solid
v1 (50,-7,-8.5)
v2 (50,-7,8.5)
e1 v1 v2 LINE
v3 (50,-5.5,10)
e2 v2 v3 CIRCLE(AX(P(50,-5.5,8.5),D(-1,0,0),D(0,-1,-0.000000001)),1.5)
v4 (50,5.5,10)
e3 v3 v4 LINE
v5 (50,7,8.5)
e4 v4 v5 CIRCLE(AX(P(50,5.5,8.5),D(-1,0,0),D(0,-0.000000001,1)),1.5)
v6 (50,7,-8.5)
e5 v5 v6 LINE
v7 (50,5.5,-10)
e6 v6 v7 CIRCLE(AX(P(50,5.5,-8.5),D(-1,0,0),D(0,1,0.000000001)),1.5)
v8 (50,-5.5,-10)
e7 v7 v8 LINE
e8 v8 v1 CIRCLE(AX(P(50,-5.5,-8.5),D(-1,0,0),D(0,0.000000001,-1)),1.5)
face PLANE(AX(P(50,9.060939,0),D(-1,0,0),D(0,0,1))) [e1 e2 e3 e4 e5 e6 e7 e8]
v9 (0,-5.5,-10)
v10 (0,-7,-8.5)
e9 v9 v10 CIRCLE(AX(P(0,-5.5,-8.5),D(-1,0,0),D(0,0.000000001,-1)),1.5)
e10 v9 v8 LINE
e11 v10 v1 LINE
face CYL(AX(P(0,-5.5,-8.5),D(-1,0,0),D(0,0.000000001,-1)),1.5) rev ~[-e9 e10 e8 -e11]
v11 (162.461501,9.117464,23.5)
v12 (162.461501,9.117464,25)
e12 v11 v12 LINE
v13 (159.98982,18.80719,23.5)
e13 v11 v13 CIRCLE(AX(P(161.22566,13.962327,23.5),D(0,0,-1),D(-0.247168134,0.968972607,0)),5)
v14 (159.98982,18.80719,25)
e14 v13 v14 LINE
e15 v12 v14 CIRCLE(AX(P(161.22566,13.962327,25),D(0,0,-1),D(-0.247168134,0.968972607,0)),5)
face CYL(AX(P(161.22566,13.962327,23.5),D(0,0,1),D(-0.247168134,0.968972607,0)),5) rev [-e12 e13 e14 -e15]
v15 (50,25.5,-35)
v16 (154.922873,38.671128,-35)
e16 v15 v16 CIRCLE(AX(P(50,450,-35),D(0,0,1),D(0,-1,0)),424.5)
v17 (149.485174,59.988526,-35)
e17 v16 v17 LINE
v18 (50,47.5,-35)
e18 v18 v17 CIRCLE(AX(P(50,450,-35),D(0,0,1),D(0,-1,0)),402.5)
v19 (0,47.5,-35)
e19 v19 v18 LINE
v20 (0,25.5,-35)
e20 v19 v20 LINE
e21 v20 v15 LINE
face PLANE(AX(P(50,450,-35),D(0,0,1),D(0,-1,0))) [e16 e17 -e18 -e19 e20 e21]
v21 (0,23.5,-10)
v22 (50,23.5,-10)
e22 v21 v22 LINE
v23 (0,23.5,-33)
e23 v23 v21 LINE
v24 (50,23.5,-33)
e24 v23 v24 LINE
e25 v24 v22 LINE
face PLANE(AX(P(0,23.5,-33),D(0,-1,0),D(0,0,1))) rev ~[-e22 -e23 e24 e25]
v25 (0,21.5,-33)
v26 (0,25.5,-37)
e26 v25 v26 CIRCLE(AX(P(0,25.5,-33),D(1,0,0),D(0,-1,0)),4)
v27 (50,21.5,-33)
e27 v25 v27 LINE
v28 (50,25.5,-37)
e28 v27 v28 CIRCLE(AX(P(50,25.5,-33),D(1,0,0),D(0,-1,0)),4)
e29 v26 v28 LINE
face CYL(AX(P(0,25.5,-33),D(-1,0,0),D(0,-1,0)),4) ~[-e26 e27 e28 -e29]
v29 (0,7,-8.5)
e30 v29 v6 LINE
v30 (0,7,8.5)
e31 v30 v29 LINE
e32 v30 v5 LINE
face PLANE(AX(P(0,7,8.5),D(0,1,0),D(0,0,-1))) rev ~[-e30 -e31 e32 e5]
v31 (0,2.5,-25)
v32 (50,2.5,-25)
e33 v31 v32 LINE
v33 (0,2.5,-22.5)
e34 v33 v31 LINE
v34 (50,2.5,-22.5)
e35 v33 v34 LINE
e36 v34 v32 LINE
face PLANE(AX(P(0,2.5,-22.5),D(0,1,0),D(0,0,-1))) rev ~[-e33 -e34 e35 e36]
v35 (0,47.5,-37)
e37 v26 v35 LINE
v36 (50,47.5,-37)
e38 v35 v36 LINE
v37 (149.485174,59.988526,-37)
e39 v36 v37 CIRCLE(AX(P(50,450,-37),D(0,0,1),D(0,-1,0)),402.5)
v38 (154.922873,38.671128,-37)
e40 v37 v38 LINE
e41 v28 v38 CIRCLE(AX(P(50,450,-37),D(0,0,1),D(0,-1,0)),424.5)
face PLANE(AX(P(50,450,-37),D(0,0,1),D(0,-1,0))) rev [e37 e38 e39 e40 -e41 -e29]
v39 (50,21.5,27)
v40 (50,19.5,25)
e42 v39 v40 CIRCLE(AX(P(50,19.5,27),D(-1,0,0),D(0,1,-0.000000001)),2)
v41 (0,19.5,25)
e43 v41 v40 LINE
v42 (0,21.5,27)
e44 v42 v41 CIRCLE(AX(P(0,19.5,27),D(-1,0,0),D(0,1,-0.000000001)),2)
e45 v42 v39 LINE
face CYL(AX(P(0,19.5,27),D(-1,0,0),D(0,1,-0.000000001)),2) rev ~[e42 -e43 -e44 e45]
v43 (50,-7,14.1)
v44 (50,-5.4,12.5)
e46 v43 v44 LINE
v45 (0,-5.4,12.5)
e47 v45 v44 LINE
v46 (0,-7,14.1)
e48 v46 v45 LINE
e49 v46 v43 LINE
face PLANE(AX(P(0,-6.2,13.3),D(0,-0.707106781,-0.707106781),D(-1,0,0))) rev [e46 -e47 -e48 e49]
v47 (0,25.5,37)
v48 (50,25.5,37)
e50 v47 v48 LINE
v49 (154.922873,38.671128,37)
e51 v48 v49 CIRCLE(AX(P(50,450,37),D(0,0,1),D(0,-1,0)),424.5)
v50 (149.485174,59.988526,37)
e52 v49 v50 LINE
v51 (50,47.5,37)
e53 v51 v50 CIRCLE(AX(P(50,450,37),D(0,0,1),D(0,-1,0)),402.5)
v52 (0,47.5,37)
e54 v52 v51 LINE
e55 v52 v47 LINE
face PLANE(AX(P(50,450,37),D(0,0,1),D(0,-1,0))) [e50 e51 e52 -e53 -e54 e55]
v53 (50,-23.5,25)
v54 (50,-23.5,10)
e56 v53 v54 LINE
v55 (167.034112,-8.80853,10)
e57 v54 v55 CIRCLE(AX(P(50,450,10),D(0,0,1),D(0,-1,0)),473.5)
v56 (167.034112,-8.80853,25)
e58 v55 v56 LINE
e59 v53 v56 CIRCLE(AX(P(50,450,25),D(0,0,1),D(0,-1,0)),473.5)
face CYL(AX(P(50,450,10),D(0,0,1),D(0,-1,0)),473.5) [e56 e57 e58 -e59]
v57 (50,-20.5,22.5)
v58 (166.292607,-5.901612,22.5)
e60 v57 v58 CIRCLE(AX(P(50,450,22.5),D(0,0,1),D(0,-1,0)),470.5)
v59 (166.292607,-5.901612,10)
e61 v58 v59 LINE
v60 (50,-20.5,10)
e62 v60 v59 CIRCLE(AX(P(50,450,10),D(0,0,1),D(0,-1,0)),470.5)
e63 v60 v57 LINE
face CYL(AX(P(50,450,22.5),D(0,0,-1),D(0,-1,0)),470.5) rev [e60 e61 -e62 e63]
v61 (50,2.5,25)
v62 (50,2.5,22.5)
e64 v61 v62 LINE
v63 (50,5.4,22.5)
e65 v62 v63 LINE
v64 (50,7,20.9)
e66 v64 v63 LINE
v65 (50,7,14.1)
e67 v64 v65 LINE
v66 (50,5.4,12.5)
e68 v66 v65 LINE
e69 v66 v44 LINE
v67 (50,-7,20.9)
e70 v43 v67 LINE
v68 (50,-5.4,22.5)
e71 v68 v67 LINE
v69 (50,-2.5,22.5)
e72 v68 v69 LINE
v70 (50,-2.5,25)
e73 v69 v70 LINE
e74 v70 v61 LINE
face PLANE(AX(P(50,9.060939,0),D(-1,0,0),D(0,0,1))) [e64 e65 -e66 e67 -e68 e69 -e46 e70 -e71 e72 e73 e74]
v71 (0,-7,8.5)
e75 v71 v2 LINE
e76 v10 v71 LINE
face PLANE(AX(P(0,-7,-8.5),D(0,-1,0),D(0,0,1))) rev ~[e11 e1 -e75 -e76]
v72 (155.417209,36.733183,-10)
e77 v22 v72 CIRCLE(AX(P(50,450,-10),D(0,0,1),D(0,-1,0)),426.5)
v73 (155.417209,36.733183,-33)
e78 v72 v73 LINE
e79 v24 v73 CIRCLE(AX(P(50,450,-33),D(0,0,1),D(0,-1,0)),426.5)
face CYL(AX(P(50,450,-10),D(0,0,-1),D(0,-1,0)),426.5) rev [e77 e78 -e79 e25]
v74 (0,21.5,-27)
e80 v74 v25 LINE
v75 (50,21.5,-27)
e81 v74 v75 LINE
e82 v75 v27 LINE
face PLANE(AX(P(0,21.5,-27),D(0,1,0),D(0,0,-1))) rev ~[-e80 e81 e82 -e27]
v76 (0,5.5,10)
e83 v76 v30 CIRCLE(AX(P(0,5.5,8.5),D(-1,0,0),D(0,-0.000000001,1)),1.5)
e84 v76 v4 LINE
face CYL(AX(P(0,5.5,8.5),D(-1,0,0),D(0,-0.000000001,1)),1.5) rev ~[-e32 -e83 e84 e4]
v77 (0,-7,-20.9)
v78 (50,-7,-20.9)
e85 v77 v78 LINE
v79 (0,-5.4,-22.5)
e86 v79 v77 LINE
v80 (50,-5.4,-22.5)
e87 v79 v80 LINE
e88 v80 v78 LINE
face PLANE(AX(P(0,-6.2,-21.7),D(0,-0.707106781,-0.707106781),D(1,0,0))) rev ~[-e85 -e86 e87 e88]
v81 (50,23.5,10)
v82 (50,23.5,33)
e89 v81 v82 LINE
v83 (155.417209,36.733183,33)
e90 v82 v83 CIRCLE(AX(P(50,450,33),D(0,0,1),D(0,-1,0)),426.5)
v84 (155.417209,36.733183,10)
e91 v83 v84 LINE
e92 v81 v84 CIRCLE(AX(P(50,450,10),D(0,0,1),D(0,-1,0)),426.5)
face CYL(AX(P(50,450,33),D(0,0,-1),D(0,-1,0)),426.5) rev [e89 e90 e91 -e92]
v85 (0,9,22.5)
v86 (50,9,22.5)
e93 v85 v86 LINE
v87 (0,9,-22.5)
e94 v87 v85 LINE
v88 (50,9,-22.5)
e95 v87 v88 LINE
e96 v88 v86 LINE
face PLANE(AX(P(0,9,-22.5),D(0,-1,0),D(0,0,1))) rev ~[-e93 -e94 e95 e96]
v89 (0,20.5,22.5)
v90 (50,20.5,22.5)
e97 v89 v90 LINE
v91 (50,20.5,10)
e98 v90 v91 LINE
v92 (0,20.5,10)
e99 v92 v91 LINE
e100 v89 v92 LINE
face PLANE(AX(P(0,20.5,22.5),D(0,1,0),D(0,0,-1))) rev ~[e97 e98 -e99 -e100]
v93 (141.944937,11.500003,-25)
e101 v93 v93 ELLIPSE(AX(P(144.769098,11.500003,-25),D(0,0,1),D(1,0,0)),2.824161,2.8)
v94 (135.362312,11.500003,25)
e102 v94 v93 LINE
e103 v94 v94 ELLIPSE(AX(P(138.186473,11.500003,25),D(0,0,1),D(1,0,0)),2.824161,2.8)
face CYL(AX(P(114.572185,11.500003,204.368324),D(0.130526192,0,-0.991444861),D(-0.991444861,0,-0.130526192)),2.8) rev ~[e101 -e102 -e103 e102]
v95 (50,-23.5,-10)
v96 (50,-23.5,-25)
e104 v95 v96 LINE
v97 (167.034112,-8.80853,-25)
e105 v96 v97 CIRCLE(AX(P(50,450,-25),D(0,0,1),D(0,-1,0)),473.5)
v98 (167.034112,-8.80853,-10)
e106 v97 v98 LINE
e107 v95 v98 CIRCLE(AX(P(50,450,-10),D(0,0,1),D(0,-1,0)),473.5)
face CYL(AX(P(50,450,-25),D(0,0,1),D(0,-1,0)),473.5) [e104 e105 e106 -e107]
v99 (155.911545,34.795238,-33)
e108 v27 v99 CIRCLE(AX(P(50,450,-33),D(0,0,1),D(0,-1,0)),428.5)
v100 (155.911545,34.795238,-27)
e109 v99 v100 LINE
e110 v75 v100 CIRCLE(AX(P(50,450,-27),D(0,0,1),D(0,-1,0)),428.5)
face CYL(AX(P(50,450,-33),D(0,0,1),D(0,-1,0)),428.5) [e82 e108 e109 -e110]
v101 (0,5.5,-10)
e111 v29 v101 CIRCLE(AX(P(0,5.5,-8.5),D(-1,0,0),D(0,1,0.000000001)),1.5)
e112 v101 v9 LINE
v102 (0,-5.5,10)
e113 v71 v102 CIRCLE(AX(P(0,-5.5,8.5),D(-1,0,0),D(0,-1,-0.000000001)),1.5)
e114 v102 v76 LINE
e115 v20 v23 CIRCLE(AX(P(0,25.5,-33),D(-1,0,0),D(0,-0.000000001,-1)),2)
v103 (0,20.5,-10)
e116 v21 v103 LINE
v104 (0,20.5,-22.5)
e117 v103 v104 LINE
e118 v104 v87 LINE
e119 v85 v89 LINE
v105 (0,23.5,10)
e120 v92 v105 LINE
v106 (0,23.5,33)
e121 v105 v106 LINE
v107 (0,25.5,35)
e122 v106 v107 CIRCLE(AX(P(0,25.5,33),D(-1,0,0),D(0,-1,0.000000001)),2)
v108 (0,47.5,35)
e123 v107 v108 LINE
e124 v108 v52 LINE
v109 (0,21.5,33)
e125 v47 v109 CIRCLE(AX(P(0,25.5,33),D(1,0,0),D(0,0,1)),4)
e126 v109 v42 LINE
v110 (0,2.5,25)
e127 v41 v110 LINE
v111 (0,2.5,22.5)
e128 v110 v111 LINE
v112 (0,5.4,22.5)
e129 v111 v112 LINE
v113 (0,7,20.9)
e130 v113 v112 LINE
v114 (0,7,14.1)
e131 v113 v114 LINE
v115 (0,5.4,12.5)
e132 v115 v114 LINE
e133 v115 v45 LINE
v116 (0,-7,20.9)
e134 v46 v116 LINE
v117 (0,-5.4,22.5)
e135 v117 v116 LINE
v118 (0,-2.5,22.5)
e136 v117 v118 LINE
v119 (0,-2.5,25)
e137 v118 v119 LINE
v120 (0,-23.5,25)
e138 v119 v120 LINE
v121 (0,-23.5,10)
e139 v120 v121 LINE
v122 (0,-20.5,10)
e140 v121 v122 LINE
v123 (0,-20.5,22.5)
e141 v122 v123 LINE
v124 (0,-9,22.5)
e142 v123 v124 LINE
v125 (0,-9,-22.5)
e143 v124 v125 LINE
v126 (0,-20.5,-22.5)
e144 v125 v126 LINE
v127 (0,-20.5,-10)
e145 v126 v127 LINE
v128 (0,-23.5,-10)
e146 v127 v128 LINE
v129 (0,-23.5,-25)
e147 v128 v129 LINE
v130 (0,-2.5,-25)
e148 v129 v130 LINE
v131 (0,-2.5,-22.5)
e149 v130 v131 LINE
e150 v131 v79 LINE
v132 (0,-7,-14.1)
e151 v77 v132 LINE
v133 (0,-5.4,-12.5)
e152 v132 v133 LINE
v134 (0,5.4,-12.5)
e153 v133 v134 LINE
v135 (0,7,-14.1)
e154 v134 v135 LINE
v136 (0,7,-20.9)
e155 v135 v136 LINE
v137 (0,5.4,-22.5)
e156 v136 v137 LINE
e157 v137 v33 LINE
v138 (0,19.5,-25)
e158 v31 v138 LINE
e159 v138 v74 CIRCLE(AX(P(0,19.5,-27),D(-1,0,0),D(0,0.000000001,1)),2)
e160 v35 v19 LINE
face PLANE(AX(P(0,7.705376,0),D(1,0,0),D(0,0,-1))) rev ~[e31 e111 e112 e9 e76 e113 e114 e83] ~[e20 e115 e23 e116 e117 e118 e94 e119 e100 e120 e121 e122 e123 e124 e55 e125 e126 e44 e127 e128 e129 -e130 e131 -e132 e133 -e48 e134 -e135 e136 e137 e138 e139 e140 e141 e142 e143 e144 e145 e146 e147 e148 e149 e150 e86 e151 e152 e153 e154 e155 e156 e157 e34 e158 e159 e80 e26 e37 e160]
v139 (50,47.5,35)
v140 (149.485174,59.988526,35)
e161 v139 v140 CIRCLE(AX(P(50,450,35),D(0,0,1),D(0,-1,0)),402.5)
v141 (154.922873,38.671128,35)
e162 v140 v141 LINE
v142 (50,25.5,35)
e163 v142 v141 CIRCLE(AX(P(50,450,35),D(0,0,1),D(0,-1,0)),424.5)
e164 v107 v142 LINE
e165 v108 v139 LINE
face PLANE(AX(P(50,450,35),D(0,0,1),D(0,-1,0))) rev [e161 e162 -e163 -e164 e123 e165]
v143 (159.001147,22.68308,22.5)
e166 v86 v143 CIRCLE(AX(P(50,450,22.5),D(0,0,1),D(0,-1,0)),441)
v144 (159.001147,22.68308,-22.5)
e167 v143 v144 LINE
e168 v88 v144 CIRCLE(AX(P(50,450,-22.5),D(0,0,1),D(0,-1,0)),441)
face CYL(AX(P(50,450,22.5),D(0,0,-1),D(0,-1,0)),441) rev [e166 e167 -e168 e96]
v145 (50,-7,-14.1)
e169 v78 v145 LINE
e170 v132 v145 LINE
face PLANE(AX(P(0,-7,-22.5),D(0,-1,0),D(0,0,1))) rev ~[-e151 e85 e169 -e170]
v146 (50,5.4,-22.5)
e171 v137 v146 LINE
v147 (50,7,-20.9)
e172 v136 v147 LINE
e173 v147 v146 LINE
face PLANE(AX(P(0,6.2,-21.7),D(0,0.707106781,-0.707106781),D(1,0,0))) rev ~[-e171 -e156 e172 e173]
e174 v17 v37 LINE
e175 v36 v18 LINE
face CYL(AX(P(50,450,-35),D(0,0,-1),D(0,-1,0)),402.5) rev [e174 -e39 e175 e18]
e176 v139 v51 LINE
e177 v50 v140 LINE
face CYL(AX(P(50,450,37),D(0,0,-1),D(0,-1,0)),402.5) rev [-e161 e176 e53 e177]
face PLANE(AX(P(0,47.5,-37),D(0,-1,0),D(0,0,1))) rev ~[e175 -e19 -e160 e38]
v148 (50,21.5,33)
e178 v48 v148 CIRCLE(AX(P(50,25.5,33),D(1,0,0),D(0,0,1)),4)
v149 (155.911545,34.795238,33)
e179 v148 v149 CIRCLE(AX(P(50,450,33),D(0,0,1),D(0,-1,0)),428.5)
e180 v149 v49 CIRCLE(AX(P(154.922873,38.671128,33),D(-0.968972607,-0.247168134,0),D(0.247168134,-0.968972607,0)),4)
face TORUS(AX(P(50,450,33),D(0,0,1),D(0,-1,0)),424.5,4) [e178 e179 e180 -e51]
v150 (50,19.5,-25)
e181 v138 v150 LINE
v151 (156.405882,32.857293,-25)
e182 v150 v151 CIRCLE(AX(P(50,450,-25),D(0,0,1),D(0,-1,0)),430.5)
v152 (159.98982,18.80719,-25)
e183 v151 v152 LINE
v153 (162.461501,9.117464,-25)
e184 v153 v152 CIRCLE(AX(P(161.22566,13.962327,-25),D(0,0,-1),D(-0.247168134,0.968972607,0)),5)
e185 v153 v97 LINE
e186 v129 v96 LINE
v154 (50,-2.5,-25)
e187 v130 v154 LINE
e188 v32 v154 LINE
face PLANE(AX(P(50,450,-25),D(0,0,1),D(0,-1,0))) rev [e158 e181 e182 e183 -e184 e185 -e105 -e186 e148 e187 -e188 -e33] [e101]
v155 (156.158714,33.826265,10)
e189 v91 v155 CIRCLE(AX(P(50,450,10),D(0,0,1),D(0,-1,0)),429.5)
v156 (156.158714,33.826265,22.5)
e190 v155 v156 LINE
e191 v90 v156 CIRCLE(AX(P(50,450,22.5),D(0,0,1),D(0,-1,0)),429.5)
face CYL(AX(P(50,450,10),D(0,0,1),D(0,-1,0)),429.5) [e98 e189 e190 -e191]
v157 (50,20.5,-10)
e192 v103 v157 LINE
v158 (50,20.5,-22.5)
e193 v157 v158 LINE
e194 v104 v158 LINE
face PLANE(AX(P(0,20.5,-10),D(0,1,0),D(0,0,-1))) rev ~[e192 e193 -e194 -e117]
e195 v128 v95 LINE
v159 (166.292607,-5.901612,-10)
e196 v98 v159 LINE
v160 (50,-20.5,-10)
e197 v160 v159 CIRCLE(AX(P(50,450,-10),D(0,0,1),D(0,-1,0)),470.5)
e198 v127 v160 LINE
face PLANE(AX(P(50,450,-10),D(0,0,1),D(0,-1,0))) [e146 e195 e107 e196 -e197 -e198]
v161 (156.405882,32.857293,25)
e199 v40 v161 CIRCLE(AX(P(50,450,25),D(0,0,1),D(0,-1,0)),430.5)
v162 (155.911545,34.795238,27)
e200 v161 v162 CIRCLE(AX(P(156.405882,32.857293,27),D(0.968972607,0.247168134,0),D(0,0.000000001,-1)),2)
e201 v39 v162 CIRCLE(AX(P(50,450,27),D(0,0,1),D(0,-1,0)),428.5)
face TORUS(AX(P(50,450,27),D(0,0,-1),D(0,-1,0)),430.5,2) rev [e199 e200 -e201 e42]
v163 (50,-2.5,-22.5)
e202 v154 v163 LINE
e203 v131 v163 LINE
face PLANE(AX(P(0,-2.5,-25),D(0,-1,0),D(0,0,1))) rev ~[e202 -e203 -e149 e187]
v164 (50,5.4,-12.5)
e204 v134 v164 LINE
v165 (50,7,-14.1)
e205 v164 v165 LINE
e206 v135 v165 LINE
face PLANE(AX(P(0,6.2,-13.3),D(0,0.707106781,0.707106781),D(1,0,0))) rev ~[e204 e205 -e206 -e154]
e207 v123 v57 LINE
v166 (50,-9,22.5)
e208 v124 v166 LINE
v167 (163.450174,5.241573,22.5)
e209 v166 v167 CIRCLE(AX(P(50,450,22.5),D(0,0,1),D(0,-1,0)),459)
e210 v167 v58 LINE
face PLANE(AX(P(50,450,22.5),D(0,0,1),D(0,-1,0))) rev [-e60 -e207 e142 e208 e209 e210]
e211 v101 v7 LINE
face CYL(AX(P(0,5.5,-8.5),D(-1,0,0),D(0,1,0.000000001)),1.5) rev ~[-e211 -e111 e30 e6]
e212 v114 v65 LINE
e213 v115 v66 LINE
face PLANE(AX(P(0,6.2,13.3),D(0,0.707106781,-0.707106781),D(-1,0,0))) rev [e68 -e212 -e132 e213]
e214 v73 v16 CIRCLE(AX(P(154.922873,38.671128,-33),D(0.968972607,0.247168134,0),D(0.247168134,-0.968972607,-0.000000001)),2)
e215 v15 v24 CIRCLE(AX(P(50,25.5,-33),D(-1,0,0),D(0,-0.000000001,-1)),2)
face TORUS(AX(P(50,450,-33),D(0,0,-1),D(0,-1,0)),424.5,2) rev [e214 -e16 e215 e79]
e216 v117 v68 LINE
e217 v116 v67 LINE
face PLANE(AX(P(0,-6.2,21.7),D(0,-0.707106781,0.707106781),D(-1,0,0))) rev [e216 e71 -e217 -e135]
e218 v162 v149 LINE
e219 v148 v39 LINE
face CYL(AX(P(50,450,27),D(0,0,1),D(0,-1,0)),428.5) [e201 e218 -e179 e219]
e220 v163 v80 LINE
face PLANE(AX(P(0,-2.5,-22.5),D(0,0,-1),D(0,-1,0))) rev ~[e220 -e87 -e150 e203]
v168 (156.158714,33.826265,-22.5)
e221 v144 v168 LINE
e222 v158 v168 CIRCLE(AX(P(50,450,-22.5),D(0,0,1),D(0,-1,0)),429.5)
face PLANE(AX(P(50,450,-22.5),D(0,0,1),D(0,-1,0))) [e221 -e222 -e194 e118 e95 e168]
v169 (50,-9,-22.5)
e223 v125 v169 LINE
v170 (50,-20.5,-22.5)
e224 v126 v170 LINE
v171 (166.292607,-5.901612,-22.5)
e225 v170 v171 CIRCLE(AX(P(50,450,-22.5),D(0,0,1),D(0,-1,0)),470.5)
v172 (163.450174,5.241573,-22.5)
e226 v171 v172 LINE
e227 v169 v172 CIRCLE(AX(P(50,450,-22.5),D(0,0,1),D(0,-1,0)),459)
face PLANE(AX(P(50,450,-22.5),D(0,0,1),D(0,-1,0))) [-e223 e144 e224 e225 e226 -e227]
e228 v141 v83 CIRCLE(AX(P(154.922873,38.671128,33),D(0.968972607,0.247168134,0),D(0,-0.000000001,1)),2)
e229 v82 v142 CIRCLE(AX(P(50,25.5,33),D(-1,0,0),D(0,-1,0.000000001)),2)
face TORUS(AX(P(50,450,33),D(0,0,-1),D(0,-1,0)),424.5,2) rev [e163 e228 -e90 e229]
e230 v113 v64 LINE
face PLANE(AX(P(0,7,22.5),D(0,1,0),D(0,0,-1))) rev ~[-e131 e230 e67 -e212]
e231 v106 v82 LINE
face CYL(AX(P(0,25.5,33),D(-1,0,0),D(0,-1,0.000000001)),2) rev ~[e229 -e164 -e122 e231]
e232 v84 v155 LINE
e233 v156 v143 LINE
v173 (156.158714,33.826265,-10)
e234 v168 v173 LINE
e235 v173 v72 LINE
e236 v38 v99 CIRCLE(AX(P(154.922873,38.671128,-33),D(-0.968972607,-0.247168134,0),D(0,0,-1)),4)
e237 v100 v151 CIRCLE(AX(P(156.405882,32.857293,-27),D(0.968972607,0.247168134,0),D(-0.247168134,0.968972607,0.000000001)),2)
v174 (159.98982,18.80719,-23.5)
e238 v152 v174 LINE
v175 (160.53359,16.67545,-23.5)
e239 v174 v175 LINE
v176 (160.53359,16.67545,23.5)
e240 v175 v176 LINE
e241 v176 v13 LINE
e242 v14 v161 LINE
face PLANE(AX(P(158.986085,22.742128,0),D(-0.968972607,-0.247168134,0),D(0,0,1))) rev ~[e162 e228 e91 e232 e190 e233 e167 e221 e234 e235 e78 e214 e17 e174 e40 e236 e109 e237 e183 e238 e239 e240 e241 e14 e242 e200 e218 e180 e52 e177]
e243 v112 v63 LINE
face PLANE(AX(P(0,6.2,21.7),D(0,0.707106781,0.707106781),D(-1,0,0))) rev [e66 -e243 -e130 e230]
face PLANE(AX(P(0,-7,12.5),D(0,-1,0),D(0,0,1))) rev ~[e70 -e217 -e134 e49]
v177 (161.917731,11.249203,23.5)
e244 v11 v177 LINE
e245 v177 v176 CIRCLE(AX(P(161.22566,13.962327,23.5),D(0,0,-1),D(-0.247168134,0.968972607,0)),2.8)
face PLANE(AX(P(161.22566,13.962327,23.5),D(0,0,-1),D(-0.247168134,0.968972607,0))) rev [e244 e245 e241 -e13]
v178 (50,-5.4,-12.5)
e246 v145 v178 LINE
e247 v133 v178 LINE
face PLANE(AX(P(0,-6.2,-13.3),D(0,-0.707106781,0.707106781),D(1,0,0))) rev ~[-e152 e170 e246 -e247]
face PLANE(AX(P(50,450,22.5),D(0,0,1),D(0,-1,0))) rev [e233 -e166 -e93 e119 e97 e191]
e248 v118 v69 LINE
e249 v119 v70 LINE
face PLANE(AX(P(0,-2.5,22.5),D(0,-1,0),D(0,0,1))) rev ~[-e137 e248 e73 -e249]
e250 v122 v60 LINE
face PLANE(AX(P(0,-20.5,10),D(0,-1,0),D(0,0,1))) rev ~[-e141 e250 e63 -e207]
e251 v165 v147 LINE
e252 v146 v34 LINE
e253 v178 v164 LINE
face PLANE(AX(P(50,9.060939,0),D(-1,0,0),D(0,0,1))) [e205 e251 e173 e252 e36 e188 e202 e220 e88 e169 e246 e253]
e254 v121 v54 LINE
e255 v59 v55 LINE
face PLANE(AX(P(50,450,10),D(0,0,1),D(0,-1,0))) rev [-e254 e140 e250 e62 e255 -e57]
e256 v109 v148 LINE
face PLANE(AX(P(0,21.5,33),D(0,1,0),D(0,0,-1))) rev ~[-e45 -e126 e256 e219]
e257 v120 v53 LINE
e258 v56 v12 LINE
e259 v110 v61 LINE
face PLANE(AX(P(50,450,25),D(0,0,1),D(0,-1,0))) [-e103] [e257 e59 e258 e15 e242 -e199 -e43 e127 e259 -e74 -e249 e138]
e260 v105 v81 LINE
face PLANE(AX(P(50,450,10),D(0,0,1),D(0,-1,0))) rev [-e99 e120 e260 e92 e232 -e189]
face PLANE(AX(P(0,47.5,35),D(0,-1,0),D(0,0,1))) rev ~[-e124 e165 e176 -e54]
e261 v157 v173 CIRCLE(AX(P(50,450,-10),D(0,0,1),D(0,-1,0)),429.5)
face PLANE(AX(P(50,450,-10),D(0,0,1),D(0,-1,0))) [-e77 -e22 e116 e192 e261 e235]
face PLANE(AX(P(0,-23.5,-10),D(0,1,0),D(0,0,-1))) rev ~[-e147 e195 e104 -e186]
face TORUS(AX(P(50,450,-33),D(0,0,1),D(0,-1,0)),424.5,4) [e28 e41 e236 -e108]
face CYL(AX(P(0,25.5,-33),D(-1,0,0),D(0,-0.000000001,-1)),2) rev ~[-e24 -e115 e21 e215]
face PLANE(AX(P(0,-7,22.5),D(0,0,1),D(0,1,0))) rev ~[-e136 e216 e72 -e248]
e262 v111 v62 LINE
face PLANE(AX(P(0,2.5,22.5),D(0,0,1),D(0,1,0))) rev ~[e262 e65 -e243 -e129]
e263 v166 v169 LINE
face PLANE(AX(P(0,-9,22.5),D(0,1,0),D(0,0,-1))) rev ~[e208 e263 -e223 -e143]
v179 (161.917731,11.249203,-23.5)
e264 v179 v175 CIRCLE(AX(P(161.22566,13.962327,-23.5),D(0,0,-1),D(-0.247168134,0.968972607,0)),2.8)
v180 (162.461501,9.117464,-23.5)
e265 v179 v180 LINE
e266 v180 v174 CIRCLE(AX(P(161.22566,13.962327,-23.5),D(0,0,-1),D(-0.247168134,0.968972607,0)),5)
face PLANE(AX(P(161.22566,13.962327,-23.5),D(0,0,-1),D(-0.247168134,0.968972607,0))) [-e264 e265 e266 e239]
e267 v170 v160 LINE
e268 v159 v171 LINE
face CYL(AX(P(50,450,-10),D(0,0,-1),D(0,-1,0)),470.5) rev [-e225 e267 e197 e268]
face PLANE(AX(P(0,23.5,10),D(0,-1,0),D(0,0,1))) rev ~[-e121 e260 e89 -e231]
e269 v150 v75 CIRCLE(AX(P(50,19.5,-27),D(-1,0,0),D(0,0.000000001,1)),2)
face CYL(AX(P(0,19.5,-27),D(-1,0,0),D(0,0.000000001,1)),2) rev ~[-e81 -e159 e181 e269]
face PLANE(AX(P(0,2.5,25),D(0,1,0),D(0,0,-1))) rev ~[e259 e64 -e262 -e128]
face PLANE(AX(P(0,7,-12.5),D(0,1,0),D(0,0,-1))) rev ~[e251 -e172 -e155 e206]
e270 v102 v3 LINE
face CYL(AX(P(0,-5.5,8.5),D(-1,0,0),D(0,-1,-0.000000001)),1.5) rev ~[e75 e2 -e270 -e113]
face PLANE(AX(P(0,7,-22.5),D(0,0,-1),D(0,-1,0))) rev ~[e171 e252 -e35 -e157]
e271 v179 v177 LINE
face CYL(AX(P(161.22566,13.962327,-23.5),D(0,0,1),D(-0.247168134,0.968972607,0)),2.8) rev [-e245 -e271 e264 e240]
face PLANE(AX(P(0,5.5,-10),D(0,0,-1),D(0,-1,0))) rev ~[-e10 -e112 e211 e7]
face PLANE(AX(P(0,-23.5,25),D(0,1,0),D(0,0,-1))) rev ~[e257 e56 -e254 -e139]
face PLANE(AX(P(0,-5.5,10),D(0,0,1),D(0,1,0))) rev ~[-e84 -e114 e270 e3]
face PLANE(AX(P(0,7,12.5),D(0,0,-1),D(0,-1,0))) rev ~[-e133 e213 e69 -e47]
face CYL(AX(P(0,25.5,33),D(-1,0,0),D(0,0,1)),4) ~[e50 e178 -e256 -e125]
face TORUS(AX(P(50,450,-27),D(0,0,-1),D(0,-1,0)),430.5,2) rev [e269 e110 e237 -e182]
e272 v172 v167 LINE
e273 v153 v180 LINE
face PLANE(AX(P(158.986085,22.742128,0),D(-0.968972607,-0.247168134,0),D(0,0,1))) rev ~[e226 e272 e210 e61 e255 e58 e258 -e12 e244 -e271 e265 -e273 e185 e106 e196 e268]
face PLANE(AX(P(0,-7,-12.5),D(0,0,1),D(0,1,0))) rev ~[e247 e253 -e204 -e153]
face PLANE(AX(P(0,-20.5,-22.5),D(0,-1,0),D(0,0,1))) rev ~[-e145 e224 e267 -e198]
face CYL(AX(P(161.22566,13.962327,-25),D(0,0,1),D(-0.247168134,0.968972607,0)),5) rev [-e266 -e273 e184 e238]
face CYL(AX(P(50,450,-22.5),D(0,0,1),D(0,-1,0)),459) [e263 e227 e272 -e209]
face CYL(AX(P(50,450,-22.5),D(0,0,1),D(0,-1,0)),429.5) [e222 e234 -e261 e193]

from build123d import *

# Parameters (mm, degrees)
ESTRUSIONE_ESTRUSIONE1_DEPTH = 50
SMUSSO1_SIZE                 = 1.6
RIVOLUZIONE1_ANGLE           = 14.31
FORO_PER_VITE_M5_2_D         = 5.6
FORO_PER_VITE_M5_2_DEPTH     = 120
FORO_PER_VITE_M5_2_TIP       = 1.682409733


with BuildPart() as part:
    # Schizzo1 → Estrusione-Estrusione1 (new body)
    with BuildSketch(Plane(origin=(0, 0, 0), x_dir=(0, 0, -1), z_dir=(1, 0, 0))):
        with BuildLine():
            Line((-10, -23.5), (-10, -20.5))
            Line((-10, -20.5), (-22.5, -20.5))
            Line((-22.5, -20.5), (-22.5, -9))
            Line((-22.5, -9), (22.5, -9))
            Line((22.5, -9), (22.5, -20.5))
            Line((22.5, -20.5), (10, -20.5))
            Line((10, -20.5), (10, -23.5))
            Line((10, -23.5), (25, -23.5))
            Line((25, -23.5), (25, -2.5))
            Line((25, -2.5), (22.5, -2.5))
            Line((22.5, -2.5), (22.5, -7))
            Line((22.5, -7), (12.5, -7))
            Line((12.5, -7), (12.5, 7))
            Line((12.5, 7), (22.5, 7))
            Line((22.5, 7), (22.5, 2.5))
            Line((22.5, 2.5), (25, 2.5))
            Line((25, 2.5), (25, 19.5))
            ThreePointArc((25, 19.5), (25.585786438, 20.914213562), (27, 21.5))
            Line((27, 21.5), (33, 21.5))
            ThreePointArc((33, 21.5), (35.828427125, 22.671572875), (37, 25.5))
            Line((37, 25.5), (37, 47.5))
            Line((37, 47.5), (35, 47.5))
            Line((35, 47.5), (35, 25.5))
            ThreePointArc((35, 25.5), (34.414213562, 24.085786438), (33, 23.5))
            Line((33, 23.5), (10, 23.5))
            Line((10, 23.5), (10, 20.5))
            Line((10, 20.5), (22.5, 20.5))
            Line((22.5, 20.5), (22.5, 9))
            Line((22.5, 9), (-22.5, 9))
            Line((-22.5, 9), (-22.5, 20.5))
            Line((-22.5, 20.5), (-10, 20.5))
            Line((-10, 20.5), (-10, 23.5))
            Line((-10, 23.5), (-33, 23.5))
            ThreePointArc((-33, 23.5), (-34.414213562, 24.085786438), (-35, 25.5))
            Line((-35, 25.5), (-35, 47.5))
            Line((-35, 47.5), (-37, 47.5))
            Line((-37, 47.5), (-37, 25.5))
            ThreePointArc((-37, 25.5), (-35.828427125, 22.671572875), (-33, 21.5))
            Line((-33, 21.5), (-27, 21.5))
            ThreePointArc((-27, 21.5), (-25.585786438, 20.914213562), (-25, 19.5))
            Line((-25, 19.5), (-25, 2.5))
            Line((-25, 2.5), (-22.5, 2.5))
            Line((-22.5, 2.5), (-22.5, 7))
            Line((-22.5, 7), (-12.5, 7))
            Line((-12.5, 7), (-12.5, -7))
            Line((-12.5, -7), (-22.5, -7))
            Line((-22.5, -7), (-22.5, -2.5))
            Line((-22.5, -2.5), (-25, -2.5))
            Line((-25, -2.5), (-25, -23.5))
            Line((-25, -23.5), (-10, -23.5))
        make_face()
        with BuildLine():
            Line((-8.5, 7), (8.5, 7))
            ThreePointArc((8.5, 7), (9.560660172, 6.560660172), (10, 5.5))
            Line((10, 5.5), (10, -5.5))
            ThreePointArc((10, -5.5), (9.560660172, -6.560660172), (8.5, -7))
            Line((8.5, -7), (-8.5, -7))
            ThreePointArc((-8.5, -7), (-9.560660172, -6.560660172), (-10, -5.5))
            Line((-10, -5.5), (-10, 5.5))
            ThreePointArc((-10, 5.5), (-9.560660172, 6.560660172), (-8.5, 7))
        make_face(mode=Mode.SUBTRACT)
    extrude(amount=ESTRUSIONE_ESTRUSIONE1_DEPTH)

    # Smusso1
    smusso1_edges = [part.edges().sort_by_distance(p)[0] for p in [
        (25, -7, 22.5),
        (25, -7, 12.5),
        (25, 7, 12.5),
        (25, 7, 22.5),
        (25, 7, -22.5),
        (25, 7, -12.5),
        (25, -7, -12.5),
        (25, -7, -22.5),
    ]]
    chamfer(smusso1_edges, length=SMUSSO1_SIZE)

    # Schizzo2 → Rivoluzione1 (revolve)
    with BuildSketch(Plane(origin=(50, 0, 0), x_dir=(0, 0, -1), z_dir=(1, 0, 0))):
        with BuildLine():
            Line((-10, -23.5), (-25, -23.5))
            Line((-25, -23.5), (-25, 19.5))
            ThreePointArc((-25, 19.5), (-25.585786438, 20.914213562), (-27, 21.5))
            Line((-27, 21.5), (-33, 21.5))
            ThreePointArc((-33, 21.5), (-35.828427125, 22.671572875), (-37, 25.5))
            Line((-37, 25.5), (-37, 47.5))
            Line((-37, 47.5), (-35, 47.5))
            Line((-35, 47.5), (-35, 25.5))
            ThreePointArc((-35, 25.5), (-34.414213562, 24.085786438), (-33, 23.5))
            Line((-33, 23.5), (-10, 23.5))
            Line((-10, 23.5), (-10, 20.5))
            Line((-10, 20.5), (-22.5, 20.5))
            Line((-22.5, 20.5), (-22.5, 9))
            Line((-22.5, 9), (22.5, 9))
            Line((22.5, 9), (22.5, 20.5))
            Line((22.5, 20.5), (10, 20.5))
            Line((10, 20.5), (10, 23.5))
            Line((10, 23.5), (33, 23.5))
            ThreePointArc((33, 23.5), (34.414213562, 24.085786438), (35, 25.5))
            Line((35, 25.5), (35, 47.5))
            Line((35, 47.5), (37, 47.5))
            Line((37, 47.5), (37, 25.5))
            ThreePointArc((37, 25.5), (35.828427125, 22.671572875), (33, 21.5))
            Line((33, 21.5), (27, 21.5))
            ThreePointArc((27, 21.5), (25.585786438, 20.914213562), (25, 19.5))
            Line((25, 19.5), (25, -23.5))
            Line((25, -23.5), (10, -23.5))
            Line((10, -23.5), (10, -20.5))
            Line((10, -20.5), (22.5, -20.5))
            Line((22.5, -20.5), (22.5, -9))
            Line((22.5, -9), (-22.5, -9))
            Line((-22.5, -9), (-22.5, -20.5))
            Line((-22.5, -20.5), (-10, -20.5))
            Line((-10, -20.5), (-10, -23.5))
        make_face()
    revolve(axis=Axis((50, 450, 89.886149412), (0, 0, 1)), revolution_arc=RIVOLUZIONE1_ANGLE)

    # Schizzo18 → Taglia-Rivoluzione1 (revolve, cut)
    with BuildSketch(Plane(origin=(154.720013769, 39.4663965, 0), x_dir=(0, 0, -1), z_dir=(0.9689726071879229, 0.24716813411004152, 0))):
        Polygon((-25, -26.320733471), (25, -26.320733471), (25, -21.320733471), (23.5, -21.320733471), (23.5, -23.520733471), (-23.5, -23.520733471), (-23.5, -21.320733471), (-25, -21.320733471), align=None)
    revolve(axis=Axis((161.22566035, 13.962326765, 25), (0, 0, -1)), mode=Mode.SUBTRACT)

    # Foro per Vite M5-2
    with Locations(Plane(origin=(-8.832087888, 0, 67.086367898), x_dir=(0.9914448613738102, 0, 0.13052619222005385), z_dir=(-0.13052619222005385, 0, 0.9914448613738102))):
        with Locations((140.267423642, 11.500002666)):
            Hole(FORO_PER_VITE_M5_2_D / 2, depth=FORO_PER_VITE_M5_2_DEPTH)
            with Locations((0, 0, -(FORO_PER_VITE_M5_2_DEPTH + FORO_PER_VITE_M5_2_TIP / 2))):  # 118° drill point
                Cone(0, FORO_PER_VITE_M5_2_D / 2, FORO_PER_VITE_M5_2_TIP, mode=Mode.SUBTRACT)


solid = part.part
